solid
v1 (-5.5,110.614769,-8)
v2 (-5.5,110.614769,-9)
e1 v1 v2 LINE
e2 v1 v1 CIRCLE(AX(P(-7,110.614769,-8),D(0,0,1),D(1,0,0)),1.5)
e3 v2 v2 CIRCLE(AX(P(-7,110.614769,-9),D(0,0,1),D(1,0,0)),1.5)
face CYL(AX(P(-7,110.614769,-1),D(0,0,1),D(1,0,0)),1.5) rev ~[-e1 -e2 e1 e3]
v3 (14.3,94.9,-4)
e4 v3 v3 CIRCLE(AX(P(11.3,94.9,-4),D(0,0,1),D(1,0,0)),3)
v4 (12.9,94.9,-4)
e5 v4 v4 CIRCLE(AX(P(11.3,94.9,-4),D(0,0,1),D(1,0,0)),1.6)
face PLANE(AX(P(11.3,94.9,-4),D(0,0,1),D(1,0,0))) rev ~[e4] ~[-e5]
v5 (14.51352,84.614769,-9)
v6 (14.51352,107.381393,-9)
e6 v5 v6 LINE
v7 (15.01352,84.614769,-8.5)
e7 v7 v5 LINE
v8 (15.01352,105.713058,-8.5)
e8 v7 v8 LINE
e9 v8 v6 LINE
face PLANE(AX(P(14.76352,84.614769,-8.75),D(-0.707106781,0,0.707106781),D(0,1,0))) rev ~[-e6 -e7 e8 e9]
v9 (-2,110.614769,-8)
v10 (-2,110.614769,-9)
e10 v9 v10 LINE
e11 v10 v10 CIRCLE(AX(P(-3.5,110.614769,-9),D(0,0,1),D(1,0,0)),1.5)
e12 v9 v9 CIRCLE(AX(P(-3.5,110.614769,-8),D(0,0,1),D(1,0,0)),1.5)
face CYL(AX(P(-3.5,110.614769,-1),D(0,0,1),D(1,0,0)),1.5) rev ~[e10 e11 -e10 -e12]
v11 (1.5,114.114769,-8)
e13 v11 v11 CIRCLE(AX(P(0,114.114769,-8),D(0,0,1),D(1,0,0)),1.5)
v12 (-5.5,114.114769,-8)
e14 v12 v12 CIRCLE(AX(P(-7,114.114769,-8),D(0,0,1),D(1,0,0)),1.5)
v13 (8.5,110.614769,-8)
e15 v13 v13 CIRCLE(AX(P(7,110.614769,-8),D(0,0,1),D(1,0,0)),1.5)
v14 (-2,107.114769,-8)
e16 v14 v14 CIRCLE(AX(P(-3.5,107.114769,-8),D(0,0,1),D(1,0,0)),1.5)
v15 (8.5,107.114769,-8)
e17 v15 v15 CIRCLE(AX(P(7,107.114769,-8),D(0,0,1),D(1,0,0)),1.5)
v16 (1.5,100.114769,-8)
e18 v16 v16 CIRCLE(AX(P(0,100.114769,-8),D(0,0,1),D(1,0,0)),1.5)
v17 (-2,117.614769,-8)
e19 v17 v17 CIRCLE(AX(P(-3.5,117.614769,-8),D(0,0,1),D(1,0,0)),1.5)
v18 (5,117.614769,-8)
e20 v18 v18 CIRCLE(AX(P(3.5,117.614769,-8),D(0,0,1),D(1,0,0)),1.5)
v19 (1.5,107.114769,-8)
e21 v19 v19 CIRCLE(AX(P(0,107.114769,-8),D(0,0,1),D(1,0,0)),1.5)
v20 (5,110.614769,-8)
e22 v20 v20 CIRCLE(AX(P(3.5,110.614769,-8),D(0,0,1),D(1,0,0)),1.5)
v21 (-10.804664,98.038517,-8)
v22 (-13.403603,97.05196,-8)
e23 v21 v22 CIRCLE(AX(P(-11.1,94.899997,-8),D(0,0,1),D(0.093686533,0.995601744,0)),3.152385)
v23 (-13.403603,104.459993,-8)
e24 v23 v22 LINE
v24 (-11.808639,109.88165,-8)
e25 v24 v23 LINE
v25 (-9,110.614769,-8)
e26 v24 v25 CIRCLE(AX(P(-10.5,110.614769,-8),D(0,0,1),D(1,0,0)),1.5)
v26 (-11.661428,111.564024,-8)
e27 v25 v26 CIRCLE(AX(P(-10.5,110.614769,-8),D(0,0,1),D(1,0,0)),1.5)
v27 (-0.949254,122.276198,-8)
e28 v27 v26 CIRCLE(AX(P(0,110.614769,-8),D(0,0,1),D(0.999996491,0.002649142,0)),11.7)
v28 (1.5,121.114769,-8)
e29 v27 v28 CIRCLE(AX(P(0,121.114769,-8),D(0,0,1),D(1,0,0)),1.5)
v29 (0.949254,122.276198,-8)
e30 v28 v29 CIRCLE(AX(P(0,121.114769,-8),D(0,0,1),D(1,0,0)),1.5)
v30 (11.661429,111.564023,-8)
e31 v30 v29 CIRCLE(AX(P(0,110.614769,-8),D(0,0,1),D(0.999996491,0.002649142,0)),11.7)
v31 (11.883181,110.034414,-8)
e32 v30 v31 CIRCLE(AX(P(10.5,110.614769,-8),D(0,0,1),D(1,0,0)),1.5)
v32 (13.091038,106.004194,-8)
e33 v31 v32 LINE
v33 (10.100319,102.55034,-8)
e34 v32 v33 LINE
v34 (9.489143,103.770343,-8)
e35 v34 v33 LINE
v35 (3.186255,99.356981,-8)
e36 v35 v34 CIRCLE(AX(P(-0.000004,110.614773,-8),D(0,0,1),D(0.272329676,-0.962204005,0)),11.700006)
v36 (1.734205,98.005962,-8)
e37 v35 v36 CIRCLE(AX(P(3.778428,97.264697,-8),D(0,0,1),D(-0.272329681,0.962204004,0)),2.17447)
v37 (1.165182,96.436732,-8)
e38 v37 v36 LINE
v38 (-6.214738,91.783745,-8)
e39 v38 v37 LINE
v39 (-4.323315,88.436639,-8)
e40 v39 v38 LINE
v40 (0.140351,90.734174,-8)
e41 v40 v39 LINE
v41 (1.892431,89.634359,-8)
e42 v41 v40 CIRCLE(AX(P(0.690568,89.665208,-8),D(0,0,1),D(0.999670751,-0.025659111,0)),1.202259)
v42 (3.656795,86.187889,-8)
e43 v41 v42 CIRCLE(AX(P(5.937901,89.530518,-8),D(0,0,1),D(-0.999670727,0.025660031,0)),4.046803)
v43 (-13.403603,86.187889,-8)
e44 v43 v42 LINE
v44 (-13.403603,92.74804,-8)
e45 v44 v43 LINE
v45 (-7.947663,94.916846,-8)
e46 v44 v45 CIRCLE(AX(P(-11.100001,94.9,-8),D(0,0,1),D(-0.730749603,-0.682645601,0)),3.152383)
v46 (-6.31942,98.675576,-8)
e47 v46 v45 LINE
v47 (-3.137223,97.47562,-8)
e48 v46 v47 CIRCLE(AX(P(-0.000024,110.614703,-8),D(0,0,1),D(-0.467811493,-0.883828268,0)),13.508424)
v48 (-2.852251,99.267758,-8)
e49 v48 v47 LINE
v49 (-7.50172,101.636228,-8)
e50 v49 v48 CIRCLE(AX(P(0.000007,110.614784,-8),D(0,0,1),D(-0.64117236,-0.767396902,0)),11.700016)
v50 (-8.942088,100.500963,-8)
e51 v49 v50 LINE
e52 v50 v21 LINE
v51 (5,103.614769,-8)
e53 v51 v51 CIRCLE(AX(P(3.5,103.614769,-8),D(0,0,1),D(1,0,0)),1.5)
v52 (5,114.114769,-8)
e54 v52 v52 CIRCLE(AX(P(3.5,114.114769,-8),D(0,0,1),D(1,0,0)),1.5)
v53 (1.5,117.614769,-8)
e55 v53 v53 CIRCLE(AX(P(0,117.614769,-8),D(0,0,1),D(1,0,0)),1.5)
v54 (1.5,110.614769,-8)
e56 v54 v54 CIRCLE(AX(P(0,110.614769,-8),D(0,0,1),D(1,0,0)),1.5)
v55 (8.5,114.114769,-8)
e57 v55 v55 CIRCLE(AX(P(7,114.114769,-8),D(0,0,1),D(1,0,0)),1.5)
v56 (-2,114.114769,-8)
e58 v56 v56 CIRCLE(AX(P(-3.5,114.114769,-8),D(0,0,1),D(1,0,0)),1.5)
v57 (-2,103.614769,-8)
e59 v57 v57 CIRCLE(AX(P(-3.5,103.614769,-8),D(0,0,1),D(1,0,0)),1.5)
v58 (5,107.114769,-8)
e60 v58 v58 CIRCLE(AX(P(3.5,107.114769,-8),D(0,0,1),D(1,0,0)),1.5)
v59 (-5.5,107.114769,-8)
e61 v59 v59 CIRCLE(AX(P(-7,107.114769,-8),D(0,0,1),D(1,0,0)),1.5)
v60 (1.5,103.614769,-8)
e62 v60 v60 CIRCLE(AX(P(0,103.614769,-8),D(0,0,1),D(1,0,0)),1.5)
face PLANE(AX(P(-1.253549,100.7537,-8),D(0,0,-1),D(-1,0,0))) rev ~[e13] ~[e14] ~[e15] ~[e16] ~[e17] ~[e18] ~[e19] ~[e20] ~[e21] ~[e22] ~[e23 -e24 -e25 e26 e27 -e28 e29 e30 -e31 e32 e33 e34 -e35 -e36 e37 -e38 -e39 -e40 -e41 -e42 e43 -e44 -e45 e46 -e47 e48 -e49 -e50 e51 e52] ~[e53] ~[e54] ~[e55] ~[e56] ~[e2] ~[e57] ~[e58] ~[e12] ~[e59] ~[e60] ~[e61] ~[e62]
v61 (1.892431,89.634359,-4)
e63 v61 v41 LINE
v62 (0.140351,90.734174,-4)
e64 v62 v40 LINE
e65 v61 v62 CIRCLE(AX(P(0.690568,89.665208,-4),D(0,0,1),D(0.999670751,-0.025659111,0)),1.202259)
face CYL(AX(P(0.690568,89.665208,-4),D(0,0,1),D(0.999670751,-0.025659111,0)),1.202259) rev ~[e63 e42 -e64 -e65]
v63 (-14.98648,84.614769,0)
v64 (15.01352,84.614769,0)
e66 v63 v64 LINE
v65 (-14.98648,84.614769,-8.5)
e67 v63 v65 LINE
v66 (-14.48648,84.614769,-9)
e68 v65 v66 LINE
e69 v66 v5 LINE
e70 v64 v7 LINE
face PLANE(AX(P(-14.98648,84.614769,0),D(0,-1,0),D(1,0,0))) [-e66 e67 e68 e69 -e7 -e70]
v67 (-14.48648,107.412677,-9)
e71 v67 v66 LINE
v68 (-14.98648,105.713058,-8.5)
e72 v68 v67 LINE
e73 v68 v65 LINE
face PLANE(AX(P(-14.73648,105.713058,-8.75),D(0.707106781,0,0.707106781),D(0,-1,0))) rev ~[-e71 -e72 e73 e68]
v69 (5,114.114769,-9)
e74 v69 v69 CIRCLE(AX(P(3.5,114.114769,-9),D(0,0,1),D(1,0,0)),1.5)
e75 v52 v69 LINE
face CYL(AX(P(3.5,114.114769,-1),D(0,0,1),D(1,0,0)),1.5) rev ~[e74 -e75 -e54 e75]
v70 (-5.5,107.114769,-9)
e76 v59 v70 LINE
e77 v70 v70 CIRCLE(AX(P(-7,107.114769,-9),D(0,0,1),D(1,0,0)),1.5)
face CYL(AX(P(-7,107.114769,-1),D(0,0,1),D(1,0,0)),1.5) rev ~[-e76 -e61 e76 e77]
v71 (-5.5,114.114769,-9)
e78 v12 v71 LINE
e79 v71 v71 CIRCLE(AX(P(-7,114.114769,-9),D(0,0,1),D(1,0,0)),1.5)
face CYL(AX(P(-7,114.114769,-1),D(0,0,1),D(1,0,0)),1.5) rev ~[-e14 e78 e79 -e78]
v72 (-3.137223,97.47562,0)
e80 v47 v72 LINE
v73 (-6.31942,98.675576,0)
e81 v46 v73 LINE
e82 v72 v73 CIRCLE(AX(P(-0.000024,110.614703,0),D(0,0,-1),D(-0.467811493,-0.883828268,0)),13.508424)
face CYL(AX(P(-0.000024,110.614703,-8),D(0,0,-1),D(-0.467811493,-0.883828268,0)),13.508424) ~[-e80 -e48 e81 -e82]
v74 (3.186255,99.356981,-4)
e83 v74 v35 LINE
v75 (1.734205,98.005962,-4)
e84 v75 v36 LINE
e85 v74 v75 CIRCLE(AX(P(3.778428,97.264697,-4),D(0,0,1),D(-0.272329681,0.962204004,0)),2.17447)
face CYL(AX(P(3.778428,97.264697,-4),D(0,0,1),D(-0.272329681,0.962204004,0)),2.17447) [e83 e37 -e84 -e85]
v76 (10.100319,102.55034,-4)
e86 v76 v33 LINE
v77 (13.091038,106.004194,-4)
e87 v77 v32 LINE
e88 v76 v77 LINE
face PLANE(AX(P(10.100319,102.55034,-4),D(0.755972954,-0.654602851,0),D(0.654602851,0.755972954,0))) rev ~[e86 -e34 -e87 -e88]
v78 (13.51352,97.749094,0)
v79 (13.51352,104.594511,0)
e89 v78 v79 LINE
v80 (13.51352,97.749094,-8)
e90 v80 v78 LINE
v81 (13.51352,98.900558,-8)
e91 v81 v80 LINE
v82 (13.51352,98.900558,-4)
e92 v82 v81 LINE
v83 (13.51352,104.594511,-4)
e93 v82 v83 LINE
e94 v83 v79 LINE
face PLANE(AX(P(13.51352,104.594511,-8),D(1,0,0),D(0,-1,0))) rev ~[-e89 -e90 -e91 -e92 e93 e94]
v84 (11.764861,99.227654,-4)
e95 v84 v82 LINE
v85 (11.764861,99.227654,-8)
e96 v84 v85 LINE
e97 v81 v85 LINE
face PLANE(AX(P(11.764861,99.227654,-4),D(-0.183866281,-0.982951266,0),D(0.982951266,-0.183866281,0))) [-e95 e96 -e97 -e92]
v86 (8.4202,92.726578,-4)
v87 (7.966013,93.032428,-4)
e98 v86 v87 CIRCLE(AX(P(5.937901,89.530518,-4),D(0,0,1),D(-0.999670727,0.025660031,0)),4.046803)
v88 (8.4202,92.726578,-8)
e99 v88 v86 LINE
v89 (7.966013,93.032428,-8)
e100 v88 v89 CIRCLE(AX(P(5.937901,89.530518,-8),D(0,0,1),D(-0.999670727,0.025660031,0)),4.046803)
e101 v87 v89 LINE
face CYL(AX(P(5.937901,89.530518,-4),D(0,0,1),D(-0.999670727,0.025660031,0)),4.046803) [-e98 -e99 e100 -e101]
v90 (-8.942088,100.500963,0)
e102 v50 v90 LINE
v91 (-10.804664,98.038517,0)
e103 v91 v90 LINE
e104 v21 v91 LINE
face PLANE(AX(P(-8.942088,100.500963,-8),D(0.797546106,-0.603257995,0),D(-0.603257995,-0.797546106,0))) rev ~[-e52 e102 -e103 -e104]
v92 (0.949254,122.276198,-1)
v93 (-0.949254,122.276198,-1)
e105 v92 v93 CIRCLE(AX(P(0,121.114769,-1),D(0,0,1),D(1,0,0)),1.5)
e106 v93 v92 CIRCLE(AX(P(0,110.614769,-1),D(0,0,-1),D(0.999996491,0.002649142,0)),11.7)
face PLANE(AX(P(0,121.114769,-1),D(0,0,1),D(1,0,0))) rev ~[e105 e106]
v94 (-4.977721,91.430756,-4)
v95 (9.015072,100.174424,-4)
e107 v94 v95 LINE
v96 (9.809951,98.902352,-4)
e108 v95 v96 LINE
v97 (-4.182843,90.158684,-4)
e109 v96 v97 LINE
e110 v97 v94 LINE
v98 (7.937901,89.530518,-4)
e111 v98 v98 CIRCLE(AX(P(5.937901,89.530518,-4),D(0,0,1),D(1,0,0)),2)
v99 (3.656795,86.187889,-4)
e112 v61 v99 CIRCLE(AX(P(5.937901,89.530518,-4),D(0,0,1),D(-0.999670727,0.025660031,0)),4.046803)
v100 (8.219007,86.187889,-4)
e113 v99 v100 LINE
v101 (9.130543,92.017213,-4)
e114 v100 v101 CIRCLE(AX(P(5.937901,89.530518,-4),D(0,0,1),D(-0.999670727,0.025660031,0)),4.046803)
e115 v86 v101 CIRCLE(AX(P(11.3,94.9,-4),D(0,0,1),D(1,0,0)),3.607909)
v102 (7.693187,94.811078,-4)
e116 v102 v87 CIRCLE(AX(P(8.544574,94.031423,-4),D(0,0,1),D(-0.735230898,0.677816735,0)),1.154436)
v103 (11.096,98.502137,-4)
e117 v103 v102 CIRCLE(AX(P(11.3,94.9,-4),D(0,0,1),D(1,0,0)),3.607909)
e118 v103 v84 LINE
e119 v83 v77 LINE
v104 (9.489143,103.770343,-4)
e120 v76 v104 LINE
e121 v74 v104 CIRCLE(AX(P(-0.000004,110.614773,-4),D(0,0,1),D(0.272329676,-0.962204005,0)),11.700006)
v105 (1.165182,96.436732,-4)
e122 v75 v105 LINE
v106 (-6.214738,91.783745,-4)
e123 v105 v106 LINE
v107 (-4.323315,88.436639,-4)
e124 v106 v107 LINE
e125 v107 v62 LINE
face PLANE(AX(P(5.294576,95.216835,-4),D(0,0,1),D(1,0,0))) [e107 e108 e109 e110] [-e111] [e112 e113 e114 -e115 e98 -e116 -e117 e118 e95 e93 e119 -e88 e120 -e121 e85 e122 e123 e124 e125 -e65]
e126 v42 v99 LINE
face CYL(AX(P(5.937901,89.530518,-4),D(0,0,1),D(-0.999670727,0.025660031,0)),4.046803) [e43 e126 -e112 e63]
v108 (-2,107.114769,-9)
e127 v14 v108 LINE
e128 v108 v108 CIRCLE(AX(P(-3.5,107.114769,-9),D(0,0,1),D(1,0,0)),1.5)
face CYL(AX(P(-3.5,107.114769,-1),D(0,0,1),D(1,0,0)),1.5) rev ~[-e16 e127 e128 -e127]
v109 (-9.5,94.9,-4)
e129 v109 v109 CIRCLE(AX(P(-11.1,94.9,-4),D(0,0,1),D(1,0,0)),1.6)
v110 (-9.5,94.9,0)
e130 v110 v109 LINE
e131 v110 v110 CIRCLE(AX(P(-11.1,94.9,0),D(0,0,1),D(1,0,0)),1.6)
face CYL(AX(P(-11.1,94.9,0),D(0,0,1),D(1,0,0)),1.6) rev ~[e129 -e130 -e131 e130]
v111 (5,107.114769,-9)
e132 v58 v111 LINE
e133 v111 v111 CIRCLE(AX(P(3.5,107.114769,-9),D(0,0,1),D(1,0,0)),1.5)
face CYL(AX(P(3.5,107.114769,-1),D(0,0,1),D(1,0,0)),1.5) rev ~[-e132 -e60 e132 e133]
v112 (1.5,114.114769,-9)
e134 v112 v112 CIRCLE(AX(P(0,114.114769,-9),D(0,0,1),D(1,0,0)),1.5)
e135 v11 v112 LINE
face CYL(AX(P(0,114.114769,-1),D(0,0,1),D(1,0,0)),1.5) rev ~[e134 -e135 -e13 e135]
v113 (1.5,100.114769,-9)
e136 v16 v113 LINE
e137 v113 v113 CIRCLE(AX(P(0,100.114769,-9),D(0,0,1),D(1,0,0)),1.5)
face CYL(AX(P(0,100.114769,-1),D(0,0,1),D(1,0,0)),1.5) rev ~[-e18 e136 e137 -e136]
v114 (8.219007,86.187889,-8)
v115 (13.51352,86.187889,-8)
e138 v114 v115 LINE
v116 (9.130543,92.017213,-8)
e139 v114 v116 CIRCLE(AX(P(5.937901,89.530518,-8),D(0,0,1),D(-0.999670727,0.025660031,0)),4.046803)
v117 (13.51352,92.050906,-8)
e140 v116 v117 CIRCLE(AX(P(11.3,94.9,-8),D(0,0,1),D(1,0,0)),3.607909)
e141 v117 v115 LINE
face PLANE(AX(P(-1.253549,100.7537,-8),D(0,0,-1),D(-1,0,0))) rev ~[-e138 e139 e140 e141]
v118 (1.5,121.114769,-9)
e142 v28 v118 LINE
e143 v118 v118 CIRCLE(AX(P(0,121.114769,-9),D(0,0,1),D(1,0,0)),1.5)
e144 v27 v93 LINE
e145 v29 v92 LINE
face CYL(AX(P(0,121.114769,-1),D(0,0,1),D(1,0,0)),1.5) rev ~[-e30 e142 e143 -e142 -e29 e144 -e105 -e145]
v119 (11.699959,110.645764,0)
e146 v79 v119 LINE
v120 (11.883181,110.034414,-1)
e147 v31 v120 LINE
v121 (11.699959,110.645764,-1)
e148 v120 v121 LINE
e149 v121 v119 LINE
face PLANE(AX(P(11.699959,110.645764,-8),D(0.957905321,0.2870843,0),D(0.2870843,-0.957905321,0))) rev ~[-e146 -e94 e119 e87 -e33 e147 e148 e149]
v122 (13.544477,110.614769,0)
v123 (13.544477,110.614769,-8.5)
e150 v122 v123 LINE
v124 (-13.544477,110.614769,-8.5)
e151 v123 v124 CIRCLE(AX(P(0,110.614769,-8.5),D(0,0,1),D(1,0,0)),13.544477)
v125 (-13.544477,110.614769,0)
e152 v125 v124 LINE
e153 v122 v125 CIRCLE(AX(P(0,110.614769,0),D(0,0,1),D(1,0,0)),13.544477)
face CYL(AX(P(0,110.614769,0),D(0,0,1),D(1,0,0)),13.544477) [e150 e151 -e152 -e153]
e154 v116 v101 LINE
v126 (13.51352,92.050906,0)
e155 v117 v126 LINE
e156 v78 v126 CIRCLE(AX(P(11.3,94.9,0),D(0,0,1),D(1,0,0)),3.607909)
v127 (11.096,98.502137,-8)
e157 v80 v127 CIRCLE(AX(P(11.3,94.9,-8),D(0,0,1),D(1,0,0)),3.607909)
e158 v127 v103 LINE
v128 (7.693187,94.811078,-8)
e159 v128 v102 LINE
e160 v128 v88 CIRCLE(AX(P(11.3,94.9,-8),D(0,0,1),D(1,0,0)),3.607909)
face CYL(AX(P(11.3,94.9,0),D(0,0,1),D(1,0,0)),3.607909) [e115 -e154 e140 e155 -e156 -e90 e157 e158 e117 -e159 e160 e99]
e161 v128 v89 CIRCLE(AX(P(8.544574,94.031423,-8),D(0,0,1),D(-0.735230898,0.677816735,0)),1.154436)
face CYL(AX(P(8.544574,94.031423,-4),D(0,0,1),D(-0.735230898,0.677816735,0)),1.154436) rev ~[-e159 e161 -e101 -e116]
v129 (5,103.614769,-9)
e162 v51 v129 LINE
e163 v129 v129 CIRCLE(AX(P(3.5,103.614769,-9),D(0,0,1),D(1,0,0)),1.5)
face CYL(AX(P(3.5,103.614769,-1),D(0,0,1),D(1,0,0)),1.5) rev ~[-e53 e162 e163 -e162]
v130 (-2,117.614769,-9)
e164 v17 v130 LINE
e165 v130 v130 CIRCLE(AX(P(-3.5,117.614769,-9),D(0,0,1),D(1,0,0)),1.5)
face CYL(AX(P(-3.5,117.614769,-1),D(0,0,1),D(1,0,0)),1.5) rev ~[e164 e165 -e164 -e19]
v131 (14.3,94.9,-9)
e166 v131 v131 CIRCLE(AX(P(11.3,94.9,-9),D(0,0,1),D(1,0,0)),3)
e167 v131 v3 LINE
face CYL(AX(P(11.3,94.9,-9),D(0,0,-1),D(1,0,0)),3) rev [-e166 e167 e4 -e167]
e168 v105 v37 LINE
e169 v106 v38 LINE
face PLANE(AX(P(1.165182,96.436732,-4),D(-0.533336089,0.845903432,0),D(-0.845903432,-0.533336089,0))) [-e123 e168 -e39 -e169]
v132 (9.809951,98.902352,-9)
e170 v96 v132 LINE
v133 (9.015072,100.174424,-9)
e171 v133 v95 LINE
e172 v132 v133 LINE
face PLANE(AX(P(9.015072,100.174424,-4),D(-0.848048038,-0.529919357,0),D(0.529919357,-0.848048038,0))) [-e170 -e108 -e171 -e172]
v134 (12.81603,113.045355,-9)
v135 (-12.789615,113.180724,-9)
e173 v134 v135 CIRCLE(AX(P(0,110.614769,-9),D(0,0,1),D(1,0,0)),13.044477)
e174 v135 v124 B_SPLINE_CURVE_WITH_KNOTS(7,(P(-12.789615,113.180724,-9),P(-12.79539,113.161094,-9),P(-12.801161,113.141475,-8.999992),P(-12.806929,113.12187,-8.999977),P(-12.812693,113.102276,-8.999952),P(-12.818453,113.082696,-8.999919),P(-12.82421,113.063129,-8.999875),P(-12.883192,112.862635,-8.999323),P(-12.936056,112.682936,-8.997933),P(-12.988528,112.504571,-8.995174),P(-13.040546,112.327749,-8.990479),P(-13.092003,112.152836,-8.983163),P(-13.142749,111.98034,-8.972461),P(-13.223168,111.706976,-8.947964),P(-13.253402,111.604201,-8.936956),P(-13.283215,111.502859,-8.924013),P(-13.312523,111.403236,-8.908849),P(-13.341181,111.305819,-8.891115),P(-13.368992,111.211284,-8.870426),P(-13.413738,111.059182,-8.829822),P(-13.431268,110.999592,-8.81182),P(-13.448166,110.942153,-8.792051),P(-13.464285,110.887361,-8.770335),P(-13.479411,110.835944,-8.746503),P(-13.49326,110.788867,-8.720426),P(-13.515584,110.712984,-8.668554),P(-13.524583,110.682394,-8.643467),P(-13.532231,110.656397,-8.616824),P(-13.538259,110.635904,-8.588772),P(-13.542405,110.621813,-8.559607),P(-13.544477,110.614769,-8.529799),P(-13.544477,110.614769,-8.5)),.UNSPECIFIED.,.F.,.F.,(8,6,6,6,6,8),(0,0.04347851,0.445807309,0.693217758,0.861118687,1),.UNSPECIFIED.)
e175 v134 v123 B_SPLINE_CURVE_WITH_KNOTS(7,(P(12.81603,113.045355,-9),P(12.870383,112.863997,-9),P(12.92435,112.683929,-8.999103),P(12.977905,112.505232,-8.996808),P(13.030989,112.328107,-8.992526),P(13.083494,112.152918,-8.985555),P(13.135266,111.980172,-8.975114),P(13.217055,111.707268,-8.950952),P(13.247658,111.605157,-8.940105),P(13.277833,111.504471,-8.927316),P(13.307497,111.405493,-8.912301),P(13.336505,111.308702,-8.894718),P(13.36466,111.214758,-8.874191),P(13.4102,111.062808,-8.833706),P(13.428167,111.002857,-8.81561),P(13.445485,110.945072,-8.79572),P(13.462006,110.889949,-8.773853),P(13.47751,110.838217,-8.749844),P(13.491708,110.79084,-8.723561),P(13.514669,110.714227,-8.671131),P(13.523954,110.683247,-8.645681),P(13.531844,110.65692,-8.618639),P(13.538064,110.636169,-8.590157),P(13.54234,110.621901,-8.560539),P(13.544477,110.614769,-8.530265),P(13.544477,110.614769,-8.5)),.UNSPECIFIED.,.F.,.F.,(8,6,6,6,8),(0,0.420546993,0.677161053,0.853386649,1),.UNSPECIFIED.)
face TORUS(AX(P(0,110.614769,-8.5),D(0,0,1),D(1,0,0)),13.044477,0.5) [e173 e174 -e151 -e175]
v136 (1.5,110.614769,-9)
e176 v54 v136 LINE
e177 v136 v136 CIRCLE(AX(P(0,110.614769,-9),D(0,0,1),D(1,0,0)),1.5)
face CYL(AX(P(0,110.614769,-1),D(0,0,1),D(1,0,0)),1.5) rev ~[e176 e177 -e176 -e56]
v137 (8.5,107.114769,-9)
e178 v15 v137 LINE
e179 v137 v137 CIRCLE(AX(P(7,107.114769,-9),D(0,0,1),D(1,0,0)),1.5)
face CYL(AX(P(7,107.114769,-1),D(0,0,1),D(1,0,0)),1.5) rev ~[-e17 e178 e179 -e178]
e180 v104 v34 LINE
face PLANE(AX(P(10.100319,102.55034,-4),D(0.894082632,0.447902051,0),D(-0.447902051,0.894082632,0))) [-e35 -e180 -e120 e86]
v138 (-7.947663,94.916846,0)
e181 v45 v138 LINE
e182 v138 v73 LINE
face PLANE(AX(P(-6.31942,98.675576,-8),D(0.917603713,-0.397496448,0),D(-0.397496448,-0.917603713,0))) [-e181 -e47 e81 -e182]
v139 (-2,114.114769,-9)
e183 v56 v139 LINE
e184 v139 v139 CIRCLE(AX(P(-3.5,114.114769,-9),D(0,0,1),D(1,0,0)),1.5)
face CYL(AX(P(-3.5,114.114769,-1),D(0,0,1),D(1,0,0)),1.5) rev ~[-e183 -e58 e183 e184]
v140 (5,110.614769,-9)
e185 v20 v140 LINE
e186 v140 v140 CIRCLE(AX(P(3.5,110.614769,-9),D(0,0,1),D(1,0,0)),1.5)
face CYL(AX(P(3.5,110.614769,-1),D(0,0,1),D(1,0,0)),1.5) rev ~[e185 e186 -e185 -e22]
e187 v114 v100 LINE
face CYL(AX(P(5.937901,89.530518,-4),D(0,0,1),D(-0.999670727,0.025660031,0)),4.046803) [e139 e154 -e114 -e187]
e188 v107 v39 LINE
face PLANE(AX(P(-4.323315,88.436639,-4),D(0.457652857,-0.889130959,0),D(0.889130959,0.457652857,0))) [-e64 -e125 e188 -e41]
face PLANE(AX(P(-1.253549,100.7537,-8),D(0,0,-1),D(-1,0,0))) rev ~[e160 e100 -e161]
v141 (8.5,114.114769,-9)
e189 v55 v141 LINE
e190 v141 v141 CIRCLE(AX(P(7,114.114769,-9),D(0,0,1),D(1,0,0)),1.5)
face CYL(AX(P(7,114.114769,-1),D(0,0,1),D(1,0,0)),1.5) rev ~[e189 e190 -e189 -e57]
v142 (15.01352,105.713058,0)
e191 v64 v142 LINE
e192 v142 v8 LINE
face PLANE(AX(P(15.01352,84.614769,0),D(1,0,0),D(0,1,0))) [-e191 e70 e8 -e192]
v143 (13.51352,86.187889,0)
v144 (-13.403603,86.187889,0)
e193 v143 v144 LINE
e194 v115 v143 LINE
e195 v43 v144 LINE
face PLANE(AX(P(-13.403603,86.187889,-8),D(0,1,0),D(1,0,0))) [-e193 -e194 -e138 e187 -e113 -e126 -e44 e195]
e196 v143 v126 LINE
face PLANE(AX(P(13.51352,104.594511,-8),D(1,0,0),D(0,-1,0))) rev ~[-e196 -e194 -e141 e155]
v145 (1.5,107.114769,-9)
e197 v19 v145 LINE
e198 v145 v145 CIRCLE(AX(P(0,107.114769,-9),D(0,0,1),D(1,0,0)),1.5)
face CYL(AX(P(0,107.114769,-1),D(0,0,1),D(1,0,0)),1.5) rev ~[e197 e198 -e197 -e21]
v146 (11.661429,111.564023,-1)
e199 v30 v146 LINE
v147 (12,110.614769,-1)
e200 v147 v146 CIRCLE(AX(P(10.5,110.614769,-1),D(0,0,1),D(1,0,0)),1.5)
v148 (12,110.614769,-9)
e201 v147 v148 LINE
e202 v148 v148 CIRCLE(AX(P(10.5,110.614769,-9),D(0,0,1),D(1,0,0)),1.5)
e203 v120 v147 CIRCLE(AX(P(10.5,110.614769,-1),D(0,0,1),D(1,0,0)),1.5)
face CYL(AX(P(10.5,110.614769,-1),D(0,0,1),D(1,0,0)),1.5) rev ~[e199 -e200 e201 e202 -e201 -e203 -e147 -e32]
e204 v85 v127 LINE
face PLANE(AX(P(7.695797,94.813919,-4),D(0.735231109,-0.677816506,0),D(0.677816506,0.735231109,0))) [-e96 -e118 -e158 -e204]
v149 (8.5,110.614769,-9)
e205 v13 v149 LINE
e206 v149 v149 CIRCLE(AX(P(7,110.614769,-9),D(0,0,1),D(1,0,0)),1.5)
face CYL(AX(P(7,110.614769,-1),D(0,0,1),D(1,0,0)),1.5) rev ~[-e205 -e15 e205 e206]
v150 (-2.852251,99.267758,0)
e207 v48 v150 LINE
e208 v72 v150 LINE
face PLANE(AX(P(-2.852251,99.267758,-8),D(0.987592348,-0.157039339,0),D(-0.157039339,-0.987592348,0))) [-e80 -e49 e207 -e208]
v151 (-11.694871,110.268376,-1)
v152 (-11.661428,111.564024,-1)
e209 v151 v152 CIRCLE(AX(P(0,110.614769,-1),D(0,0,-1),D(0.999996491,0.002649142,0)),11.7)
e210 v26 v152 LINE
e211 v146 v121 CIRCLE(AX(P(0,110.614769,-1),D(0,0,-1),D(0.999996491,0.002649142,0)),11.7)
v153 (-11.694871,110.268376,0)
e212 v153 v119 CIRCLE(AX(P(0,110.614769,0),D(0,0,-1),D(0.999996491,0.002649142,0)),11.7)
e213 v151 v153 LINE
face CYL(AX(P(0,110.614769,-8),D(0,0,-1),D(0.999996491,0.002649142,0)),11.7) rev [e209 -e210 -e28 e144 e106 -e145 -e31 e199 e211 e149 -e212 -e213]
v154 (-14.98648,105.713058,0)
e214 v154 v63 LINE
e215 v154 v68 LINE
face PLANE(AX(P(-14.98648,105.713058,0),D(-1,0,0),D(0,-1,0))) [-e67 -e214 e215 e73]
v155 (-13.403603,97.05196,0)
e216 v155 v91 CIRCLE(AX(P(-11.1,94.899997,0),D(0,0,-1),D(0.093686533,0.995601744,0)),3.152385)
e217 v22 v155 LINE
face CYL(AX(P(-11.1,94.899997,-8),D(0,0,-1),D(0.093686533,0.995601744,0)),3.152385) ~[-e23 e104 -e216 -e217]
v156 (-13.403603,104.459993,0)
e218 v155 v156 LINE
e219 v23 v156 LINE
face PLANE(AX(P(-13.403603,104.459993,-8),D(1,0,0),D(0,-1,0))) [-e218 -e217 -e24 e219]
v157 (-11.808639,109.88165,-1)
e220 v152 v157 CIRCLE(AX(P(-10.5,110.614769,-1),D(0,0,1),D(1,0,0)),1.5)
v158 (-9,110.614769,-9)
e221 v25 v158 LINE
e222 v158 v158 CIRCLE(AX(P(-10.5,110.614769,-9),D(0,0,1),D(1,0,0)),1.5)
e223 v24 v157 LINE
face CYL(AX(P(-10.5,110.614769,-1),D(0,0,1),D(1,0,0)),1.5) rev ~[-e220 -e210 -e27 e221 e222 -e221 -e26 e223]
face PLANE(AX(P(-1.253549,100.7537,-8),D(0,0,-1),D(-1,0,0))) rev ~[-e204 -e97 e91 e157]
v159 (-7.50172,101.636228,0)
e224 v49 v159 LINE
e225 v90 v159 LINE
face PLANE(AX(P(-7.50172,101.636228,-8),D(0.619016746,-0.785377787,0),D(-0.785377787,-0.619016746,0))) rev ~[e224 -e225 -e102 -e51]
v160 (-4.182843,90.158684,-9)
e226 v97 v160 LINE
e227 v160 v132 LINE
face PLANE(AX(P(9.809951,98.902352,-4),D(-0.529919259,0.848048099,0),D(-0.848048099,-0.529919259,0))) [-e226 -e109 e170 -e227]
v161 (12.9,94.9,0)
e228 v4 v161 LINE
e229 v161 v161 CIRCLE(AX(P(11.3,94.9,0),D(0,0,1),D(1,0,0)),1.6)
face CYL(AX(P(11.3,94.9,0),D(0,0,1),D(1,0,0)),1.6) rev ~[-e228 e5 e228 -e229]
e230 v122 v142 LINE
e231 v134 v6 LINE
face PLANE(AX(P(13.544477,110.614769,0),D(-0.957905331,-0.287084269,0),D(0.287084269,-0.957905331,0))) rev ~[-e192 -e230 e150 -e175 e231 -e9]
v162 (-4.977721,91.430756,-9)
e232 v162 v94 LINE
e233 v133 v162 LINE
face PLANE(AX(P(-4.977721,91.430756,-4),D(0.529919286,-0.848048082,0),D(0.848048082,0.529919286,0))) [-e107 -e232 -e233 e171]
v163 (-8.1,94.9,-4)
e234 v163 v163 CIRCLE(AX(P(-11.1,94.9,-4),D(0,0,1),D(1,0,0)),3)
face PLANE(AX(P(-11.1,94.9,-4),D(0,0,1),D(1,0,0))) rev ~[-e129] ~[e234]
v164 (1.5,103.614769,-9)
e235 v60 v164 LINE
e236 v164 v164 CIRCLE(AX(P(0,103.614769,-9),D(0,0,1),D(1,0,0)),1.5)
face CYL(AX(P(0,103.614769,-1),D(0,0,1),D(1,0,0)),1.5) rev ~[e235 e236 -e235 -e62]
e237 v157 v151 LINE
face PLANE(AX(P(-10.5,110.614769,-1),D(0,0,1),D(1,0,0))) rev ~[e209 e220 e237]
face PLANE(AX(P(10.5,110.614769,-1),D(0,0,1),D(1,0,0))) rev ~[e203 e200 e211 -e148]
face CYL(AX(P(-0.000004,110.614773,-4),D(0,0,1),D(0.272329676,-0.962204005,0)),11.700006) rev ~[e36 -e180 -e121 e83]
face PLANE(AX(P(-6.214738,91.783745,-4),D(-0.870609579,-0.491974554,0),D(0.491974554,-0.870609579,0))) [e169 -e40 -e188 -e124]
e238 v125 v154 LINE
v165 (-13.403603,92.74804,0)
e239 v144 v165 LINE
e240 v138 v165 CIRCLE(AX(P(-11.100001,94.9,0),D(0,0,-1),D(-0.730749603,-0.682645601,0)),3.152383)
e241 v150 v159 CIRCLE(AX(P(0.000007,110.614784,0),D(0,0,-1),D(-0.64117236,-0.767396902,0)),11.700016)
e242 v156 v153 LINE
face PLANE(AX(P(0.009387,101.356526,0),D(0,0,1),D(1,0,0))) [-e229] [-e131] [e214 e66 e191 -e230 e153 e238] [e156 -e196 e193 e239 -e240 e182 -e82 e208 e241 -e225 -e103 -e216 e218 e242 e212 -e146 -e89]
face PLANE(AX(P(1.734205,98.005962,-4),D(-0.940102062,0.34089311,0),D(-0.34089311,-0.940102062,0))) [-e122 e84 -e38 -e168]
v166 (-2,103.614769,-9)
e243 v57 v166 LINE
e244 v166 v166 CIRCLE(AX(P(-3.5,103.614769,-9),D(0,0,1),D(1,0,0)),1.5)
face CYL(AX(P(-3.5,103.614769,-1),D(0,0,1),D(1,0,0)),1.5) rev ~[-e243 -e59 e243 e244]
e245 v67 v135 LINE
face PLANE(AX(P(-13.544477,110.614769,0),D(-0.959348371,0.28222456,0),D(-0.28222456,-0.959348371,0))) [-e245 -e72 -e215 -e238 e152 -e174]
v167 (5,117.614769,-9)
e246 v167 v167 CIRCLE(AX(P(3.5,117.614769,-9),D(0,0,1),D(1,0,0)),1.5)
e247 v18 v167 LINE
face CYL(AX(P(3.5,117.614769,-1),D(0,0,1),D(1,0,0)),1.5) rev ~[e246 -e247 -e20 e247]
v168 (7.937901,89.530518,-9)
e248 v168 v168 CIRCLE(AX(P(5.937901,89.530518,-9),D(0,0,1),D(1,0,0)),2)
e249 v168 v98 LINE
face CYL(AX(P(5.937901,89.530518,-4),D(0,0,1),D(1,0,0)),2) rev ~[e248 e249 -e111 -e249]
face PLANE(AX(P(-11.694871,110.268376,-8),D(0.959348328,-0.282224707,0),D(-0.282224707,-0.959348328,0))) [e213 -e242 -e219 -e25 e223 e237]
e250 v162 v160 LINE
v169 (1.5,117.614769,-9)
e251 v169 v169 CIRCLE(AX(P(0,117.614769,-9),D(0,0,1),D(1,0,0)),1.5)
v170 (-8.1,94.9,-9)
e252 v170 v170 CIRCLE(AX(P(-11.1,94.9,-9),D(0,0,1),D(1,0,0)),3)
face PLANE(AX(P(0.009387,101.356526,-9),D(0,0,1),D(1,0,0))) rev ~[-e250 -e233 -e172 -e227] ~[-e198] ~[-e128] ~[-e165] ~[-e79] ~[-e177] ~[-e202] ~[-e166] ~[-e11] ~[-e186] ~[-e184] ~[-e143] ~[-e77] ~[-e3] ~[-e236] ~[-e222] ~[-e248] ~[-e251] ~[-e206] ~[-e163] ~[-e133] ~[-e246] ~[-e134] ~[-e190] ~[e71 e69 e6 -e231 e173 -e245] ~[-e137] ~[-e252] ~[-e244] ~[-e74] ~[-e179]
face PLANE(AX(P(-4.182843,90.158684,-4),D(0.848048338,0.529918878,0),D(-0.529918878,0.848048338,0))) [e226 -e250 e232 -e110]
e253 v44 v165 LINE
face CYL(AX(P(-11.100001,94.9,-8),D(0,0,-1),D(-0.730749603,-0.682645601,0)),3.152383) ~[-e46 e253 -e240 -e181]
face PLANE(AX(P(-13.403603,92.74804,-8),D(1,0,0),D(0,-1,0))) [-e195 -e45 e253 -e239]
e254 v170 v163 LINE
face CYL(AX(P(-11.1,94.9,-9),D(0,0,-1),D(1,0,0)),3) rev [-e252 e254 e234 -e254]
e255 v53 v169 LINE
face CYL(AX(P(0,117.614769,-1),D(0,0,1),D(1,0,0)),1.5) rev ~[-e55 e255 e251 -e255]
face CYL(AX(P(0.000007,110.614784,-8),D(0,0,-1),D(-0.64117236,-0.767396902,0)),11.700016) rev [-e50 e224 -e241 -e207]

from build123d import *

# Parameters (mm, degrees)
SKETCH070_R     = 1.6
PAD014_DEPTH    = 9
SKETCH071_R     = 1.5
POCKET033_DEPTH = 8
POCKET034_DEPTH = 9
SKETCH073_R     = 2
POCKET035_DEPTH = 7
SKETCH074_R     = 2
PAD015_DEPTH    = 5
SKETCH076_R     = 3.607909
SKETCH076_R_2   = 1.6
PAD016_DEPTH    = 9
SKETCH077_R     = 3
POCKET036_DEPTH = 5
CHAMFER_SIZE    = 0.5
FILLET001_R     = 0.5


with BuildPart() as part:
    # Sketch070 → Pad014 (new body)
    with BuildSketch(Plane.XY):
        with BuildLine():
            Line((-14.98648, 84.614769), (15.01352, 84.614769))
            Line((15.01352, 84.614769), (15.01352, 105.713058))
            Line((13.544477, 110.614769), (15.01352, 105.713058))
            ThreePointArc((13.544477, 110.614769), (0, 124.159246), (-13.544477, 110.614769))
            Line((-13.544477, 110.614769), (-14.98648, 105.713058))
            Line((-14.98648, 105.713058), (-14.98648, 84.614769))
        make_face()
        with Locations((11.3, 94.9)):
            Circle(SKETCH070_R, mode=Mode.SUBTRACT)
        with Locations((-11.1, 94.9)):
            Circle(SKETCH070_R, mode=Mode.SUBTRACT)
    extrude(amount=-PAD014_DEPTH)

    # Sketch071 → Pocket033 (cut)
    with BuildSketch(Plane.XY.offset(-1)):
        with Locations((0, 110.614769)):
            Circle(SKETCH071_R)
        with Locations((0, 114.114769)):
            Circle(SKETCH071_R)
        with Locations((0, 117.614769)):
            Circle(SKETCH071_R)
        with Locations((0, 121.114769)):
            Circle(SKETCH071_R)
        with Locations((0, 107.114769)):
            Circle(SKETCH071_R)
        with Locations((0, 103.614769)):
            Circle(SKETCH071_R)
        with Locations((0, 100.114769)):
            Circle(SKETCH071_R)
        with Locations((3.5, 110.614769)):
            Circle(SKETCH071_R)
        with Locations((7, 110.614769)):
            Circle(SKETCH071_R)
        with Locations((10.5, 110.614769)):
            Circle(SKETCH071_R)
        with Locations((-3.5, 110.614769)):
            Circle(SKETCH071_R)
        with Locations((-7, 110.614769)):
            Circle(SKETCH071_R)
        with Locations((-10.5, 110.614769)):
            Circle(SKETCH071_R)
        with Locations((3.5, 114.114769)):
            Circle(SKETCH071_R)
        with Locations((7, 114.114769)):
            Circle(SKETCH071_R)
        with Locations((-3.5, 114.114769)):
            Circle(SKETCH071_R)
        with Locations((-7, 114.114769)):
            Circle(SKETCH071_R)
        with Locations((3.5, 117.614769)):
            Circle(SKETCH071_R)
        with Locations((-3.5, 117.614769)):
            Circle(SKETCH071_R)
        with Locations((-3.5, 103.614769)):
            Circle(SKETCH071_R)
        with Locations((-3.5, 107.114769)):
            Circle(SKETCH071_R)
        with Locations((-7, 107.114769)):
            Circle(SKETCH071_R)
        with Locations((3.5, 103.614769)):
            Circle(SKETCH071_R)
        with Locations((3.5, 107.114769)):
            Circle(SKETCH071_R)
        with Locations((7, 107.114769)):
            Circle(SKETCH071_R)
    extrude(amount=-POCKET033_DEPTH, mode=Mode.SUBTRACT)

    # Sketch072 → Pocket034 (cut)
    with BuildSketch(Plane.XY.offset(-8)):
        with BuildLine():
            ThreePointArc((-13.403603, 92.74804), (-9.935518, 91.970581), (-7.947663, 94.916846))
            Line((-6.31942, 98.675576), (-7.947663, 94.916846))
            ThreePointArc((-6.31942, 98.675576), (-4.766235, 97.975053), (-3.137223, 97.47562))
            Line((-2.852251, 99.267758), (-3.137223, 97.47562))
            ThreePointArc((-7.50172, 101.636228), (-5.310705, 100.189492), (-2.852251, 99.267758))
            Line((-7.50172, 101.636228), (-8.942088, 100.500963))
            Line((-8.942088, 100.500963), (-10.804664, 98.038517))
            ThreePointArc((-10.804664, 98.038517), (-12.218753, 97.847186), (-13.403603, 97.05196))
            Line((-13.403603, 104.459993), (-13.403603, 97.05196))
            Line((-11.694871, 110.268376), (-13.403603, 104.459993))
            ThreePointArc((11.699959, 110.645764), (-0.188711, 122.313247), (-11.694871, 110.268376))
            Line((11.699959, 110.645764), (13.51352, 104.594511))
            Line((13.51352, 104.594511), (13.51352, 96.878203))
            Line((13.51352, 96.878203), (13.51352, 86.187889))
            Line((13.51352, 86.187889), (0, 86.187889))
            Line((-13.403603, 86.187889), (0, 86.187889))
            Line((-13.403603, 92.74804), (-13.403603, 86.187889))
        make_face()
    extrude(amount=POCKET034_DEPTH, mode=Mode.SUBTRACT)

    # Sketch073 → Pocket035 (cut)
    with BuildSketch(Plane.XY.offset(-8)):
        with Locations((5.937901, 89.530518)):
            Circle(SKETCH073_R)
        Polygon((-4.182843, 90.158684), (9.809951, 98.902352), (9.015072, 100.174424), (-4.977721, 91.430756), align=None)
    extrude(amount=-POCKET035_DEPTH, mode=Mode.SUBTRACT)

    # Sketch074 → Pad015 (join)
    with BuildSketch(Plane.XY.offset(-4)):
        with BuildLine():
            ThreePointArc((1.892431, 89.634359), (7.913794, 85.998881), (7.966013, 93.032428))
            ThreePointArc((7.695797, 94.813919), (7.403193, 93.858298), (7.966013, 93.032428))
            Line((7.695797, 94.813919), (11.764861, 99.227654))
            Line((11.764861, 99.227654), (13.51352, 98.900558))
            Line((13.51352, 98.900558), (13.51352, 104.594511))
            Line((13.51352, 104.594511), (13.091038, 106.004194))
            Line((10.100319, 102.55034), (13.091038, 106.004194))
            Line((10.100319, 102.55034), (9.489143, 103.770343))
            ThreePointArc((3.186255, 99.356981), (6.710877, 101.030713), (9.489143, 103.770343))
            ThreePointArc((3.186255, 99.356981), (2.297226, 98.856665), (1.734205, 98.005962))
            Line((1.734205, 98.005962), (1.165182, 96.436732))
            Line((1.165182, 96.436732), (-6.214738, 91.783745))
            Line((-6.214738, 91.783745), (-4.323315, 88.436639))
            Line((-4.323315, 88.436639), (0.140351, 90.734174))
            ThreePointArc((1.892431, 89.634359), (1.329754, 90.683475), (0.140351, 90.734174))
        make_face()
        with Locations((5.937901, 89.530518)):
            Circle(SKETCH074_R, mode=Mode.SUBTRACT)
        Polygon((-4.977721, 91.430756), (9.015072, 100.174424), (9.809951, 98.902352), (-4.182843, 90.158684), align=None, mode=Mode.SUBTRACT)
    extrude(amount=-PAD015_DEPTH)

    # Sketch076 → Pad016 (join)
    with BuildSketch(Plane.XY):
        with Locations((11.3, 94.9)):
            Circle(SKETCH076_R)
        with Locations((11.3, 94.9)):
            Circle(SKETCH076_R_2, mode=Mode.SUBTRACT)
    extrude(amount=-PAD016_DEPTH)

    # Sketch077 → Pocket036 (cut)
    with BuildSketch(Plane.XY.offset(-9)):
        with Locations((-11.1, 94.9)):
            Circle(SKETCH077_R)
        with Locations((11.3, 94.9)):
            Circle(SKETCH077_R)
    extrude(amount=POCKET036_DEPTH, mode=Mode.SUBTRACT)

    # Chamfer
    chamfer_edges = [part.edges().sort_by_distance(p)[0] for p in [
        (15.01352, 95.163913, -9),
        (-14.98648, 95.163913, -9),
    ]]
    chamfer(chamfer_edges, length=CHAMFER_SIZE)

    # Fillet001
    fillet001_edges = [part.edges().sort_by_distance(p)[0] for p in [
        (0, 124.159246, -9),
    ]]
    fillet(fillet001_edges, radius=FILLET001_R)


solid = part.part
